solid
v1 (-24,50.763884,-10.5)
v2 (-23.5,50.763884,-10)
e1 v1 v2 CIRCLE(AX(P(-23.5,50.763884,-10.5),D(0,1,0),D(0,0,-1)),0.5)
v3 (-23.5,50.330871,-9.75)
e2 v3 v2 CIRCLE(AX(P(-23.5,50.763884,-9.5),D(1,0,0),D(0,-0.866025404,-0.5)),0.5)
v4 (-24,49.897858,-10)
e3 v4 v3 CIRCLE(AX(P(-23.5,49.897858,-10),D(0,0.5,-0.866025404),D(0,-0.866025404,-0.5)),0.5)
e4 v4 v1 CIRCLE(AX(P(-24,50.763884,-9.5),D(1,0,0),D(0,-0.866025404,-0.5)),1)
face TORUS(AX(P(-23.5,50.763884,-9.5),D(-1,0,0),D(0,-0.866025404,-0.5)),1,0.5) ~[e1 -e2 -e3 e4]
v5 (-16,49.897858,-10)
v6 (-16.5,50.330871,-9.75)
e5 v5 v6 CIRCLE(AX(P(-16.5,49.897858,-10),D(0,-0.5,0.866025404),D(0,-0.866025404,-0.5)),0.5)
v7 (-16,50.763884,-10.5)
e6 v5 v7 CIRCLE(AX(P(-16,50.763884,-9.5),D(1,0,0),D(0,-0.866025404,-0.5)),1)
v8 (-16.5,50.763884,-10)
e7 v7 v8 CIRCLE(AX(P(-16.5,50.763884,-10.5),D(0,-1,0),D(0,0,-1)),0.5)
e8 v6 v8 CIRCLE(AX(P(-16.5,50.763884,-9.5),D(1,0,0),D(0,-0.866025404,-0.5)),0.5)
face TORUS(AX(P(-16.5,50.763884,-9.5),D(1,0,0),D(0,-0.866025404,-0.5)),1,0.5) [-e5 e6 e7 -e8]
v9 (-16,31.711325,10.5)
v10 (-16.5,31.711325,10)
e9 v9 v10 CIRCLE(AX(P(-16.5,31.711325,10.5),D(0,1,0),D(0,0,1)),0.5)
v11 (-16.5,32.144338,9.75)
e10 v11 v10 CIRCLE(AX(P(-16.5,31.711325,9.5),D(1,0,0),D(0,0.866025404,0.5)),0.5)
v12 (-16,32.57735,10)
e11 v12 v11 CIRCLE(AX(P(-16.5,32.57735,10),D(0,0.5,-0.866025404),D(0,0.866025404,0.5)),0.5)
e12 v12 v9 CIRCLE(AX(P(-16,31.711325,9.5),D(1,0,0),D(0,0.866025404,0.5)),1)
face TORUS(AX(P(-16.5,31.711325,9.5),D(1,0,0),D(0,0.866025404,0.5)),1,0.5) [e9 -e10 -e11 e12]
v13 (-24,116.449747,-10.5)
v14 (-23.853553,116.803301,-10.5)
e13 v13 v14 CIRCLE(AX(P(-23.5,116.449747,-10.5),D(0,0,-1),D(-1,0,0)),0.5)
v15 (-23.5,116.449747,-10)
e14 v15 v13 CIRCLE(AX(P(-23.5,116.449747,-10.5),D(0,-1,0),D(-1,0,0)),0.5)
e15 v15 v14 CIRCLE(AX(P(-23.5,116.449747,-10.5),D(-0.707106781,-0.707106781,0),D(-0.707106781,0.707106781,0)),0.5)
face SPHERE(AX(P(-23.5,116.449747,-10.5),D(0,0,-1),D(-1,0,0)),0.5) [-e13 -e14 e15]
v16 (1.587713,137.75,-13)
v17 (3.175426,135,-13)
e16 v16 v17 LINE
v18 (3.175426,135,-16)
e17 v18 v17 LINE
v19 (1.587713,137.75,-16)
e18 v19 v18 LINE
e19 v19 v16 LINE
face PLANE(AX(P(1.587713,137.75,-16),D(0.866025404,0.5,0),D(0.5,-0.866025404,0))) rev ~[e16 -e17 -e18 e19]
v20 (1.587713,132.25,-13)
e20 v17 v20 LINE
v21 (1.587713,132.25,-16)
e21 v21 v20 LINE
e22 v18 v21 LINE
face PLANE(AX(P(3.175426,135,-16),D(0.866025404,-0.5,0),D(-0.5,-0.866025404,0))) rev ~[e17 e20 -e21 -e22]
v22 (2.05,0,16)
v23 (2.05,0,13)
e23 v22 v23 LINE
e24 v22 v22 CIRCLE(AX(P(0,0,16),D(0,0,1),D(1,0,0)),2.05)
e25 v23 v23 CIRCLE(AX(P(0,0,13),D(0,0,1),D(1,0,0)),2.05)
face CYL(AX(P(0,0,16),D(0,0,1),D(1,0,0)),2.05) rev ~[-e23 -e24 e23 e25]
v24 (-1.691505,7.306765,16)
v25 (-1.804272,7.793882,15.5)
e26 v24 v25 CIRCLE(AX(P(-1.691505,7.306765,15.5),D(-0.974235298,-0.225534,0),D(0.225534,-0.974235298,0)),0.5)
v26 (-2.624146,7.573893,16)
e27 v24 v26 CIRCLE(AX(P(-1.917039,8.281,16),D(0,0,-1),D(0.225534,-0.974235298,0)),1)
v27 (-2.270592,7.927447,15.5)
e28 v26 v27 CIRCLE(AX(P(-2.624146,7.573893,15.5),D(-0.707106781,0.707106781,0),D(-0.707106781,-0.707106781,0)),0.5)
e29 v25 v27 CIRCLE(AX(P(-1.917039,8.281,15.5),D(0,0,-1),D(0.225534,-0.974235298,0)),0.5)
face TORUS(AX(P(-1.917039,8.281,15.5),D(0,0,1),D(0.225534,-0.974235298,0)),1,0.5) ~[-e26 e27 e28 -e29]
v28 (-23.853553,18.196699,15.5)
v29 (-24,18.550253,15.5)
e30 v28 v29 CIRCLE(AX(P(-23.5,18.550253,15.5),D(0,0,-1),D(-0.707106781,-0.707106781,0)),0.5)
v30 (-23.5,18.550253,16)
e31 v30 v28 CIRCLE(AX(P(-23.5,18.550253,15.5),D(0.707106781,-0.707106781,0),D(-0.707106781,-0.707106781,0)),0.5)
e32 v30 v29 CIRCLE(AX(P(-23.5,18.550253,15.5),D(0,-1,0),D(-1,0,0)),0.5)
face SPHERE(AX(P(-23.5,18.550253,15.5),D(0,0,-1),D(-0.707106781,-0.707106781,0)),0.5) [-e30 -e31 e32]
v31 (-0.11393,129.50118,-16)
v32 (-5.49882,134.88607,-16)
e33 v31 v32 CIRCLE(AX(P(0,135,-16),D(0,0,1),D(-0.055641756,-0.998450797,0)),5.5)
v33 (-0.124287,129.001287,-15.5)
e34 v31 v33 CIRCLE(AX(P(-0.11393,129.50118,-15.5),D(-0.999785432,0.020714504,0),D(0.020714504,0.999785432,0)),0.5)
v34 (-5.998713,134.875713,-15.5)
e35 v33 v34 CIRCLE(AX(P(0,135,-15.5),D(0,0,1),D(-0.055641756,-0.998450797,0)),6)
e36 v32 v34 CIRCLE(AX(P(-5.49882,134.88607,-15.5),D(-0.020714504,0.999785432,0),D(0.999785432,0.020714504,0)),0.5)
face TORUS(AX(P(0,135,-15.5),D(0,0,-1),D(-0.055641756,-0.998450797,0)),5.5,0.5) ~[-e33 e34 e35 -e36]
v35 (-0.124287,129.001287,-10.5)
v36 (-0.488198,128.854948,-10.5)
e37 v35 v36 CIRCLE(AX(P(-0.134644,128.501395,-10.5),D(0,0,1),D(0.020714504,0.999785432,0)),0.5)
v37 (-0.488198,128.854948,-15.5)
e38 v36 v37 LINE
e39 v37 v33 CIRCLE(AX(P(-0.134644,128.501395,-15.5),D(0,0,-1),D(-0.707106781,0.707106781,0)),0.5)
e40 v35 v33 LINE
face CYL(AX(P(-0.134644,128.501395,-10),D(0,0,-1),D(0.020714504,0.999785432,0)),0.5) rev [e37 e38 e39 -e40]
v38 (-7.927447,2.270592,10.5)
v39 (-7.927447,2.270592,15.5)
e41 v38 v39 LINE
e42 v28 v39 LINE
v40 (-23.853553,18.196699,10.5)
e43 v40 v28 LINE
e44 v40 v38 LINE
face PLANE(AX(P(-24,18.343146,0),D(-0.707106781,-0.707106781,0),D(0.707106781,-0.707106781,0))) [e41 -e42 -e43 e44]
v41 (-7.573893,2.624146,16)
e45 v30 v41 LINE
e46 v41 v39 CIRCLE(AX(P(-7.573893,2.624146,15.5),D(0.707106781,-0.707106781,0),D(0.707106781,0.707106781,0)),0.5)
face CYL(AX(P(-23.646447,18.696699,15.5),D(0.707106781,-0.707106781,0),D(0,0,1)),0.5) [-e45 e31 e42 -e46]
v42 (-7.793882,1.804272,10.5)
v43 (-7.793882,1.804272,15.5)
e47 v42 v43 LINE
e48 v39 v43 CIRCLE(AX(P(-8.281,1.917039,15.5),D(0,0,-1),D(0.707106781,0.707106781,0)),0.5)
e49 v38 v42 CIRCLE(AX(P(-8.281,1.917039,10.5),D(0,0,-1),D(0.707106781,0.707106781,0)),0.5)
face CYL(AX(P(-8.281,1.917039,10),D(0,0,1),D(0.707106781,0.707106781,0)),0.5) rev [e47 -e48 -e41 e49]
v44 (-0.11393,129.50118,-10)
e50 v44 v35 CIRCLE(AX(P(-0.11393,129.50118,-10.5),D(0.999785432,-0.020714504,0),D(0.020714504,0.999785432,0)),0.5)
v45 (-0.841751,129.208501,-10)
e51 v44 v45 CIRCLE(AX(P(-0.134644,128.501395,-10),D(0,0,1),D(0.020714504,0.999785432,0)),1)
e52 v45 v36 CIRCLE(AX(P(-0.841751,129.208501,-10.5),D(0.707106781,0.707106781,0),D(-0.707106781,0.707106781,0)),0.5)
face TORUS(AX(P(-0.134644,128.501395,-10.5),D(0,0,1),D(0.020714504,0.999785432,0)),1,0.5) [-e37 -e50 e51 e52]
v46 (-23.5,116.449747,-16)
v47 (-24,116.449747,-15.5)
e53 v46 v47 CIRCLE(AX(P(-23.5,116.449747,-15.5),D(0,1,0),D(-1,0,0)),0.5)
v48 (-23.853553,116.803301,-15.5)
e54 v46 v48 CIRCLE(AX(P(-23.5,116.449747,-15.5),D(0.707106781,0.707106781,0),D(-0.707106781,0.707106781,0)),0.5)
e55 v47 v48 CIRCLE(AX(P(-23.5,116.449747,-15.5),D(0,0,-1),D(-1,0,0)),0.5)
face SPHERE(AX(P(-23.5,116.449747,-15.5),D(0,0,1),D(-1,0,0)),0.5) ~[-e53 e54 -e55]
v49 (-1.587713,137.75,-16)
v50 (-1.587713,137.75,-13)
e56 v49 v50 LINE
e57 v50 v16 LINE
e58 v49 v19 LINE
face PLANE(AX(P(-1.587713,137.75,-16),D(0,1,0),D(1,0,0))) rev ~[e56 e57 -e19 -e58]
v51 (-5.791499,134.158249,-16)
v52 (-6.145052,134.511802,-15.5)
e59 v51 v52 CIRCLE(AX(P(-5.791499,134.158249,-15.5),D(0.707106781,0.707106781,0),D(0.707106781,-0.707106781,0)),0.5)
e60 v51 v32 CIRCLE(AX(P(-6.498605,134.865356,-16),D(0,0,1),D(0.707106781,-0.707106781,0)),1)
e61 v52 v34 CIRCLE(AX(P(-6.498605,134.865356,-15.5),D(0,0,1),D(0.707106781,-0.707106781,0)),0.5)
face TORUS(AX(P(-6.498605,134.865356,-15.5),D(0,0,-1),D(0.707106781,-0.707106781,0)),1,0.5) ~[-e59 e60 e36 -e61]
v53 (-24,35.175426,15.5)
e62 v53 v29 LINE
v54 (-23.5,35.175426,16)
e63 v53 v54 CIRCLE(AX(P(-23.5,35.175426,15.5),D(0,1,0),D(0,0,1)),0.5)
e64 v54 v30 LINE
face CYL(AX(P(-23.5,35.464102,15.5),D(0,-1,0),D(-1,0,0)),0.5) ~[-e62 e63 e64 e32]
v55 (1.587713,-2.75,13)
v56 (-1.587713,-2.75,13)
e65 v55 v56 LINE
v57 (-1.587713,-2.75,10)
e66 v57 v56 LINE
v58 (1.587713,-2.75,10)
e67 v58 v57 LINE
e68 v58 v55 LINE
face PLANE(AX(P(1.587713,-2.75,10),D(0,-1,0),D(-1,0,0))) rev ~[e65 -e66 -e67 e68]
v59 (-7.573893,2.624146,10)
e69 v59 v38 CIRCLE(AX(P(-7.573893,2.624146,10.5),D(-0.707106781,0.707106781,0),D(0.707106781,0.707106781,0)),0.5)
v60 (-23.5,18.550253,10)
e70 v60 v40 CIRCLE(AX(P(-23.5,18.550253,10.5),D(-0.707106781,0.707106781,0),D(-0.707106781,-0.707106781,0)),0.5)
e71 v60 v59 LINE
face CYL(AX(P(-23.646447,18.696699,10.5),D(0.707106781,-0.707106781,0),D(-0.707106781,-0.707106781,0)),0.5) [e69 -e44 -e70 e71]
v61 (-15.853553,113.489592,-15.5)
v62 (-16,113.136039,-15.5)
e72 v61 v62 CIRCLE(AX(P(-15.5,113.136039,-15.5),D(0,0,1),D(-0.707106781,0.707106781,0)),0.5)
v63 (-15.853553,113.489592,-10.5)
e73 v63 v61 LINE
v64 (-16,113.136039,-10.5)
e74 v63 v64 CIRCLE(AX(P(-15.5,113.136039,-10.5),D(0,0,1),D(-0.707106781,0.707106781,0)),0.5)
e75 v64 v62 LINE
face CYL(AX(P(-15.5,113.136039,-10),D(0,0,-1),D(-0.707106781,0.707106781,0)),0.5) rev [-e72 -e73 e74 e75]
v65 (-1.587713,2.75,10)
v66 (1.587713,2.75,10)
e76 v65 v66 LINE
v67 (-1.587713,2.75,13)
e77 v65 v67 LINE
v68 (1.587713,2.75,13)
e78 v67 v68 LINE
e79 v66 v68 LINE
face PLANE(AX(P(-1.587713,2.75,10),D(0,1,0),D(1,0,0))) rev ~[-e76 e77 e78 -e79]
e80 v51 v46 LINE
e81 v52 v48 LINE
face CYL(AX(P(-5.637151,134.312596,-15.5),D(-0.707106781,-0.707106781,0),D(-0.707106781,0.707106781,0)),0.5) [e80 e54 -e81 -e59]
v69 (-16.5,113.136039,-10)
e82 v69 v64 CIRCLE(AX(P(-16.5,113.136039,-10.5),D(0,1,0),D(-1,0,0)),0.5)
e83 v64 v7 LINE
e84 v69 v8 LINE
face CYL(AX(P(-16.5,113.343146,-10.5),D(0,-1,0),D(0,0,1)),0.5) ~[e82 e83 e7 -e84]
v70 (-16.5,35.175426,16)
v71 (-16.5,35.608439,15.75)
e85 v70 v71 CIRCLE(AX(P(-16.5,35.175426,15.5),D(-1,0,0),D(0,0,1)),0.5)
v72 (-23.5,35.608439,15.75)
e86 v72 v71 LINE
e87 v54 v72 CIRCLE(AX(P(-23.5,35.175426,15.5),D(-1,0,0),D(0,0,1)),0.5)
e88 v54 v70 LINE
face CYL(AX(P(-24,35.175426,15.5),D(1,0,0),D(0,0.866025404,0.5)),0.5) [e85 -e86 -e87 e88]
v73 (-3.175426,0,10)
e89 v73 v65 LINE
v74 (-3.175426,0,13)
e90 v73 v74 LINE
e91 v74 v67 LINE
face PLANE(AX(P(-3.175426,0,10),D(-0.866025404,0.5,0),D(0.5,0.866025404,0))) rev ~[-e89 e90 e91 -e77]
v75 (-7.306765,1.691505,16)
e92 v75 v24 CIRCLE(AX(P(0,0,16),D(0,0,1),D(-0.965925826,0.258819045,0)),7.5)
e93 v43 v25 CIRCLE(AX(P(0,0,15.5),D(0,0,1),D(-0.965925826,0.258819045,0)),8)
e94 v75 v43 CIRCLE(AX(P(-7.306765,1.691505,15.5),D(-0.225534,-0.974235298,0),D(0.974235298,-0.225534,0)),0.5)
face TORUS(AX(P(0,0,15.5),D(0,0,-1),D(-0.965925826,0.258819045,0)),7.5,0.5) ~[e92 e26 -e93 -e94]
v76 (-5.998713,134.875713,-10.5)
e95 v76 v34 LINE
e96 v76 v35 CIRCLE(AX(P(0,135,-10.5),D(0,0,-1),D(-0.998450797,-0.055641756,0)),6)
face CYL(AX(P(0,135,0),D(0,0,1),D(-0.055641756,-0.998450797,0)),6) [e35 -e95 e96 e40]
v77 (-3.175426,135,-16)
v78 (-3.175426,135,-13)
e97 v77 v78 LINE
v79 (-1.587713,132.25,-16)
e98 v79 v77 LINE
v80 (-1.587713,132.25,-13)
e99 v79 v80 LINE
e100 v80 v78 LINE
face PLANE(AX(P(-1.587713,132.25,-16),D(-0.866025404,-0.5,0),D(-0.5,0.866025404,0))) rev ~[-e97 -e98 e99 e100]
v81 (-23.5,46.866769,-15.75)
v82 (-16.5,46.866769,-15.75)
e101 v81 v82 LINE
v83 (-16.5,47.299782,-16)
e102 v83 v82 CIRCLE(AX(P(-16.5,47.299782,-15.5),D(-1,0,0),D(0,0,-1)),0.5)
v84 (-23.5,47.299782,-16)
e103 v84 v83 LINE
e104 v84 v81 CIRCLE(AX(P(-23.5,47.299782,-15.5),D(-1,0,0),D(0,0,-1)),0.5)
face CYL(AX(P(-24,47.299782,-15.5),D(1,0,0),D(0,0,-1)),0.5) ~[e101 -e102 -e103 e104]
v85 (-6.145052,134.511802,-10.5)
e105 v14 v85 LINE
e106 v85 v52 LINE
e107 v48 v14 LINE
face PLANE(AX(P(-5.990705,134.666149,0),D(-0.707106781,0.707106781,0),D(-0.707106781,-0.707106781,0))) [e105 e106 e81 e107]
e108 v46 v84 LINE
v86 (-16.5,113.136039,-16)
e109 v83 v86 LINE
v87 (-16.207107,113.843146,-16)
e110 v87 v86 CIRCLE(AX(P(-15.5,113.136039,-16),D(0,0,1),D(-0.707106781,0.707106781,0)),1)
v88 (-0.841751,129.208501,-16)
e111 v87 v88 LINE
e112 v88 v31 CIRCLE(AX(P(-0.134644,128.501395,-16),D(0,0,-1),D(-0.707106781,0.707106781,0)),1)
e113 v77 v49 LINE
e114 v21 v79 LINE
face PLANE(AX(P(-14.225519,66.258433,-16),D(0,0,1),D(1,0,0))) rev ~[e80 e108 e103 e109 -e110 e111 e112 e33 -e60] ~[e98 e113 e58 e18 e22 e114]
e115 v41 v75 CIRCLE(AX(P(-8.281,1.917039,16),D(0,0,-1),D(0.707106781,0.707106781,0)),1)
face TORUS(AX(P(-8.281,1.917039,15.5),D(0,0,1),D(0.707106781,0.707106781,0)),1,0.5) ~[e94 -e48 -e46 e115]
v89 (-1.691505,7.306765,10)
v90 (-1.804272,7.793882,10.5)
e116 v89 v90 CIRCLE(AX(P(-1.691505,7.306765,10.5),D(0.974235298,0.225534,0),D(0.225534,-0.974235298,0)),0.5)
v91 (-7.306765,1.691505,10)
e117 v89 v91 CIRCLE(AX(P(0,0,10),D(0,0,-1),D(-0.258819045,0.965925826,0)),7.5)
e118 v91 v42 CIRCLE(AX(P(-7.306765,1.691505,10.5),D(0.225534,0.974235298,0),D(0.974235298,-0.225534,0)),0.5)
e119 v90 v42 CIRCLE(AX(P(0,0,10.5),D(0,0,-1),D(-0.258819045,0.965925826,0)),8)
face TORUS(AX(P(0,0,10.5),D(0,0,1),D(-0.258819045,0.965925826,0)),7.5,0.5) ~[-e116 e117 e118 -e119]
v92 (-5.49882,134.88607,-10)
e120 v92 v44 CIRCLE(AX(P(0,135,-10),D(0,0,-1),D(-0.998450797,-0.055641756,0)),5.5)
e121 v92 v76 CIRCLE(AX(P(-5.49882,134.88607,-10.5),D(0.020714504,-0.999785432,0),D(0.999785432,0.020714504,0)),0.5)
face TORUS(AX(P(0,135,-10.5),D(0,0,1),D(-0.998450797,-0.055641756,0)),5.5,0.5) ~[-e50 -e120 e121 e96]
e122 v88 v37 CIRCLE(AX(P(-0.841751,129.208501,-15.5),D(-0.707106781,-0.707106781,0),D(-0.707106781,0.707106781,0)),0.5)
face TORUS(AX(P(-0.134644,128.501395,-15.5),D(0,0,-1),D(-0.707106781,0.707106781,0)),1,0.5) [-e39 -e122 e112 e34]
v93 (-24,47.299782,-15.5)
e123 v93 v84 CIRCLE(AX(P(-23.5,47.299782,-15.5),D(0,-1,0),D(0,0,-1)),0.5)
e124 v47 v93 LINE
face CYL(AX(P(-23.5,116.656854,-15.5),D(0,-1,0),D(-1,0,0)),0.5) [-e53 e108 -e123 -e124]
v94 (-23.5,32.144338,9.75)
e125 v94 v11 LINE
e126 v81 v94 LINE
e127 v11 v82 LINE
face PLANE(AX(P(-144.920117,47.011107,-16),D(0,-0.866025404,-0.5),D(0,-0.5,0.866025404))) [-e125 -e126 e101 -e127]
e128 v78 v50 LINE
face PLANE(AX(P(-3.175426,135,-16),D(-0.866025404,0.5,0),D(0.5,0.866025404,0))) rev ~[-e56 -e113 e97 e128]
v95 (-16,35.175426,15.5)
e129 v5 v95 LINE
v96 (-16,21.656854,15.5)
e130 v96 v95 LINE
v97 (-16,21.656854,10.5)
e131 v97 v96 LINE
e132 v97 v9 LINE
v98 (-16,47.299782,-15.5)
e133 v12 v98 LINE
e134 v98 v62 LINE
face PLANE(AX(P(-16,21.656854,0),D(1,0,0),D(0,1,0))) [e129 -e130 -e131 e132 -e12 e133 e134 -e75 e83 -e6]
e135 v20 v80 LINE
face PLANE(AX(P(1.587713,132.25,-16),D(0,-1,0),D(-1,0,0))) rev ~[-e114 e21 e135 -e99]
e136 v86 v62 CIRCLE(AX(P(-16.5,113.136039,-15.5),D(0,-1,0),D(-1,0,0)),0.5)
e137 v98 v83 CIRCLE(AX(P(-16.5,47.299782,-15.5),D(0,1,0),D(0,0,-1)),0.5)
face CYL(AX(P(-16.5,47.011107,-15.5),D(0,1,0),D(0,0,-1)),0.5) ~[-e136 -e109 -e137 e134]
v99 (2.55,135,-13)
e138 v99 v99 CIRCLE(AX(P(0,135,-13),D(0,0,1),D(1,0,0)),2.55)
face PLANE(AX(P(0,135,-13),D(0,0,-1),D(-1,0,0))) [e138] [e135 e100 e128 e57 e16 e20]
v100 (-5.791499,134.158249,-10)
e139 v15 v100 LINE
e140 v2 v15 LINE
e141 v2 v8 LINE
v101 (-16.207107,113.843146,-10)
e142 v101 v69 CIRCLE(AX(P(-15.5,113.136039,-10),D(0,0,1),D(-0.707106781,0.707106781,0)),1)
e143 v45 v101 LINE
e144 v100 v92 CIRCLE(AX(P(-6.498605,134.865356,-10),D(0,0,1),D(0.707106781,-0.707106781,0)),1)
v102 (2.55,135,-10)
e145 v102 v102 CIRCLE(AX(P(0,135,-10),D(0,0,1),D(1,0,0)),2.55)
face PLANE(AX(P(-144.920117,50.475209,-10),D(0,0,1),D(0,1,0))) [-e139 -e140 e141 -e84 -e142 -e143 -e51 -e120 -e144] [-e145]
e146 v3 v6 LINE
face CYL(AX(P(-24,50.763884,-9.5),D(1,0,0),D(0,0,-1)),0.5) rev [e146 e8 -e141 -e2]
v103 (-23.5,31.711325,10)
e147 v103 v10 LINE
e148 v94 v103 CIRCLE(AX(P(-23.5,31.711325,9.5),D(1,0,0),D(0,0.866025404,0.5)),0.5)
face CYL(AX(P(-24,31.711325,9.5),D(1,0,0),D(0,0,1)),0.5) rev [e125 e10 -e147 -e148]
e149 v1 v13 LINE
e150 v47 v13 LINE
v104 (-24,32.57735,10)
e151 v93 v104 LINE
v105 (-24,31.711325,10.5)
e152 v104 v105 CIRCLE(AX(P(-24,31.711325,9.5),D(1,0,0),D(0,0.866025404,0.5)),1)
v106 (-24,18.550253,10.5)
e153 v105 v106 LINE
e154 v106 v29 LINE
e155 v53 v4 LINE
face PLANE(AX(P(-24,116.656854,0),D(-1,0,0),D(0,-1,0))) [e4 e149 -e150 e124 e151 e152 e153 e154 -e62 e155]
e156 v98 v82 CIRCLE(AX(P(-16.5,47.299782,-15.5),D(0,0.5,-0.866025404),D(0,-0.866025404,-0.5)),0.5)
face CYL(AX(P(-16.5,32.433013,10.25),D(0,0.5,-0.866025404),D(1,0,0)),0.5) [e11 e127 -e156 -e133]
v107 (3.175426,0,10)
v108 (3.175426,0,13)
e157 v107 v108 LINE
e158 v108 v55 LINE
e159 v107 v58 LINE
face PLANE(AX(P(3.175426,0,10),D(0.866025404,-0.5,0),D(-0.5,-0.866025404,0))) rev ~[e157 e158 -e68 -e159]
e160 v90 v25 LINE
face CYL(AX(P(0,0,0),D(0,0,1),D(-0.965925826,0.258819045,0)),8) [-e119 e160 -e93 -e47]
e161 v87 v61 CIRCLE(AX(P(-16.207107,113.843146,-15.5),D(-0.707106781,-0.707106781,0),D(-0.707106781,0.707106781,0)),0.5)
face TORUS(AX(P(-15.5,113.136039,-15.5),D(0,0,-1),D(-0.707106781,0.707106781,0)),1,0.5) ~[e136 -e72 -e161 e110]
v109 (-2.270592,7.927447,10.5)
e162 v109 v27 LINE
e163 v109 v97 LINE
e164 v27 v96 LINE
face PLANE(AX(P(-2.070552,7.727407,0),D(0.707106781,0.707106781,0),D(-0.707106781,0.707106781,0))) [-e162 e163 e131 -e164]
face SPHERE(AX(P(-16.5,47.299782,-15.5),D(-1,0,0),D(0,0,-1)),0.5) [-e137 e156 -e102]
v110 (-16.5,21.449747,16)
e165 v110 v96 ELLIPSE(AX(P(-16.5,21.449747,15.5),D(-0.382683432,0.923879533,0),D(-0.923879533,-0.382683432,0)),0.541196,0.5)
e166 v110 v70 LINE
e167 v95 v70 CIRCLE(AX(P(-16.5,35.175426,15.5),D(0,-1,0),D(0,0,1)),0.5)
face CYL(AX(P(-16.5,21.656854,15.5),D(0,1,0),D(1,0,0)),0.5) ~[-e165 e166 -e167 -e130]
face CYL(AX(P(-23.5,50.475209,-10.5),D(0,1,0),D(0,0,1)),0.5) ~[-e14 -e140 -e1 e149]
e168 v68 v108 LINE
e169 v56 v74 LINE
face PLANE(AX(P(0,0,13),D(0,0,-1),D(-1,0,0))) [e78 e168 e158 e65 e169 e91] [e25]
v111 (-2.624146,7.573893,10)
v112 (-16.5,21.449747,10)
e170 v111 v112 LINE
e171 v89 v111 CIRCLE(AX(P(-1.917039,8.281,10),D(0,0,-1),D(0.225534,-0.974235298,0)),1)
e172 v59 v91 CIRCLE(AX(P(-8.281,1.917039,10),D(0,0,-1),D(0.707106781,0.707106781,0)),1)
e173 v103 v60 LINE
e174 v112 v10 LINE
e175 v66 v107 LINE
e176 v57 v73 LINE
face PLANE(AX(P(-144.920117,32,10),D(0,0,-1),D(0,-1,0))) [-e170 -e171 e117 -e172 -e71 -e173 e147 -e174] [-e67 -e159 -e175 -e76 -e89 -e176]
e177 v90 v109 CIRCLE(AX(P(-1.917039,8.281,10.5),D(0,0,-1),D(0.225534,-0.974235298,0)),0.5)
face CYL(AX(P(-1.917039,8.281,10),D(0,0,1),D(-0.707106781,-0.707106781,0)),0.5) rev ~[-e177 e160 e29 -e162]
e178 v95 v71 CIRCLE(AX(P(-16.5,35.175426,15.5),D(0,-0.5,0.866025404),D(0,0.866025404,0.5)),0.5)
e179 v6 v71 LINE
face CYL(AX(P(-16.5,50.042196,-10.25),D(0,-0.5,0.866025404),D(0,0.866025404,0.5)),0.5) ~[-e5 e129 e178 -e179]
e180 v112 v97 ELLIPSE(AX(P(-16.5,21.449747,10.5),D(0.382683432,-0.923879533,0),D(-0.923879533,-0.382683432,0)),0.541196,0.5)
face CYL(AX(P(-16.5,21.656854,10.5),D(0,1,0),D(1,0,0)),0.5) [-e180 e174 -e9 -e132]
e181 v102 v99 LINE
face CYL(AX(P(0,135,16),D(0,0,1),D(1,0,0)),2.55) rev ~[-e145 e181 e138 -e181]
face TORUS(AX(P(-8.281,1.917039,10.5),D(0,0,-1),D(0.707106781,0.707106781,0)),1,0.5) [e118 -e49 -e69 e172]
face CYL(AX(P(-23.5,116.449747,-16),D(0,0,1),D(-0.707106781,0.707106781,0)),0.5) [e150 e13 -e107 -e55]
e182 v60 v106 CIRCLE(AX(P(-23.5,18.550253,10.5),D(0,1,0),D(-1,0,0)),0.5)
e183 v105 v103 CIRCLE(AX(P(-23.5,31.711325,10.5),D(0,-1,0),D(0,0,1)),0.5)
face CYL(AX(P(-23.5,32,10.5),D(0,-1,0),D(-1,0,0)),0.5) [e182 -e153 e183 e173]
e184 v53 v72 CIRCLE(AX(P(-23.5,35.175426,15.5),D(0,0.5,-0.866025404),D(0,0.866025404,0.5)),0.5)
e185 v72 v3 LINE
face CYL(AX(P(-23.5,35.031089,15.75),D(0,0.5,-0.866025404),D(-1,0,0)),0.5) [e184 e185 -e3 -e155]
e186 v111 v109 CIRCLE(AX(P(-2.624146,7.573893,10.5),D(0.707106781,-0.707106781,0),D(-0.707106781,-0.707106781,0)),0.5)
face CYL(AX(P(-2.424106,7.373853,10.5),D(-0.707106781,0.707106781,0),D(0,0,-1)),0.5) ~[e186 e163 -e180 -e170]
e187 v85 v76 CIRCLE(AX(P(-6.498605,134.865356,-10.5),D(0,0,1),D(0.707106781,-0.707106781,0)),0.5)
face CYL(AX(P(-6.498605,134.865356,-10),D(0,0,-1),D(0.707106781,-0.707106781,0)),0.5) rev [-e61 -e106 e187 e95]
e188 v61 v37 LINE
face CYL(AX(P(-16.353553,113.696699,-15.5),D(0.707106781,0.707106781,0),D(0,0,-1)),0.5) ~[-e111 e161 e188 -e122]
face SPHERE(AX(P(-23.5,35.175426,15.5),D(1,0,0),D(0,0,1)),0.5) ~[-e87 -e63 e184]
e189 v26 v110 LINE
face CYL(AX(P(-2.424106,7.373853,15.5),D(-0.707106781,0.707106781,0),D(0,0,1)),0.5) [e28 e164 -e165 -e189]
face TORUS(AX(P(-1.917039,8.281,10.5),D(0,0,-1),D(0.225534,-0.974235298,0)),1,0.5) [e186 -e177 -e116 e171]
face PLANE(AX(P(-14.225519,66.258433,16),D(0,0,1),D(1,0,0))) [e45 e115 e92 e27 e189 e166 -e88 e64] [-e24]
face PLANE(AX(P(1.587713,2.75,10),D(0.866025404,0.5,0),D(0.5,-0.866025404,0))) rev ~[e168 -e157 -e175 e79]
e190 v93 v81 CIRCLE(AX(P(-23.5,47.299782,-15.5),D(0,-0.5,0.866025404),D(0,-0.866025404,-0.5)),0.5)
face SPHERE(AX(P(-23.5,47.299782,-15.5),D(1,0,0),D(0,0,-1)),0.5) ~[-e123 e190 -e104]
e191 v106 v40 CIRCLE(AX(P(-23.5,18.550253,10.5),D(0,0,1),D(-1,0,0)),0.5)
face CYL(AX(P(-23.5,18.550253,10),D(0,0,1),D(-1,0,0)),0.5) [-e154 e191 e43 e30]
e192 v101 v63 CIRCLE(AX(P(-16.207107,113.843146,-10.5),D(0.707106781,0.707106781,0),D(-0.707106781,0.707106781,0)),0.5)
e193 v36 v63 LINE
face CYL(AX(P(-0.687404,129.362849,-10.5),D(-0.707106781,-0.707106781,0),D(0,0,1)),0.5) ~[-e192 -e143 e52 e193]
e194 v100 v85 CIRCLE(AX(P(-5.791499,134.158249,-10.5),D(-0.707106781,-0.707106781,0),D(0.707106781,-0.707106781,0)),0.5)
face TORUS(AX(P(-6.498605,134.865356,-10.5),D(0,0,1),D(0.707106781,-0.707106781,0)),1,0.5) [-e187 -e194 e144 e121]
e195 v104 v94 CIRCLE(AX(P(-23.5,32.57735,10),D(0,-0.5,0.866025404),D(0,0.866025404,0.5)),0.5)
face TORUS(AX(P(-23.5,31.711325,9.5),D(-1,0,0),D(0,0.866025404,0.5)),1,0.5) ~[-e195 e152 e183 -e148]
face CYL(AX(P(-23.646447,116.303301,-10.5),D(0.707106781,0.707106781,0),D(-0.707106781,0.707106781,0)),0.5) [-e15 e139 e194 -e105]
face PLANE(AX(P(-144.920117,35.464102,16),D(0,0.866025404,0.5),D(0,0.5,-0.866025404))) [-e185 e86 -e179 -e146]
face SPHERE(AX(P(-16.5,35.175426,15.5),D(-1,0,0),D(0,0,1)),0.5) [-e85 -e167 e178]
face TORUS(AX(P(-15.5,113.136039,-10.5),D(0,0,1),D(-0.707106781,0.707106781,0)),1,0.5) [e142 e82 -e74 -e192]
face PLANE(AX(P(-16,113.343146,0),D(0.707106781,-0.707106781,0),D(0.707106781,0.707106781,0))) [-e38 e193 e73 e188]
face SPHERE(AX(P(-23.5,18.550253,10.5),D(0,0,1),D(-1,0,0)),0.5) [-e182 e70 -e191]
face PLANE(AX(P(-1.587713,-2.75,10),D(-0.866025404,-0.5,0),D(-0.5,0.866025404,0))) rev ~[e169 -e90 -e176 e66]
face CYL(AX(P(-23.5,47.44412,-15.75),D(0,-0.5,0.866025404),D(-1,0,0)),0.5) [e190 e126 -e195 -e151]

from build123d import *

# Parameters (mm, degrees)
EXTRUDE_1_DEPTH          = 16
SKETCH_2_R               = 2.05
SKETCH_2_R_2             = 2.55
CUT_EXTRUDE_1_DEPTH      = 147.563979204
CUT_EXTRUDE_2_DEPTH      = 144.920116731
CUT_EXTRUDE_2_DEPTH_BACK = 144.920116731
CUT_EXTRUDE_3_DEPTH      = 3
CUT_EXTRUDE_5_DEPTH      = 3
FILLET_1_R               = 0.5


with BuildPart() as part:
    # 草图1 → 凸台-拉伸1 (new, symmetric)
    with BuildSketch(Plane.XY):
        with BuildLine():
            Line((-5.990704785, 134.666149465), (-24, 116.656854249))
            Line((-24, 116.656854249), (-24, 18.343145751))
            Line((-24, 18.343145751), (-7.72740661, 2.070552361))
            ThreePointArc((-7.72740661, 2.070552361), (5.656854249, -5.656854249), (-2.070552361, 7.72740661))
            Line((-2.070552361, 7.72740661), (-16, 21.656854249))
            Line((-16, 21.656854249), (-16, 113.343145751))
            Line((-16, 113.343145751), (-0.333850535, 129.009295215))
            ThreePointArc((-0.333850535, 129.009295215), (4.242640687, 139.242640687), (-5.990704785, 134.666149465))
        make_face()
    extrude(amount=EXTRUDE_1_DEPTH, both=True)

    # 草图2 → 切除-拉伸1 (cut, through all)
    with BuildSketch(Plane.XY.offset(16)):
        Circle(SKETCH_2_R)
        with Locations((0, 135)):
            Circle(SKETCH_2_R_2)
    extrude(amount=-CUT_EXTRUDE_1_DEPTH, mode=Mode.SUBTRACT)

    # 草图4 → 切除-拉伸2 (cut, two sides: drawn at the far end of the back side and taken through both)
    with BuildSketch(Plane(origin=(0, 0, 0), x_dir=(0, 0, -1), z_dir=(1, 0, 0)).offset(-CUT_EXTRUDE_2_DEPTH_BACK)):
        Polygon((16, 47.011106999), (-10, 32), (-10, -8), (16, -8), align=None)
        Polygon((-16, 35.464101615), (10, 50.475208614), (10, 141), (-16, 141), align=None)
    extrude(amount=CUT_EXTRUDE_2_DEPTH + CUT_EXTRUDE_2_DEPTH_BACK, mode=Mode.SUBTRACT)

    # 草图5 → 切除-拉伸3 (cut)
    with BuildSketch(Plane(origin=(0, 0, 10), x_dir=(-1, 0, 0), z_dir=(0, 0, -1))):
        Polygon((1.58771324, -2.75), (3.175426481, 0), (1.58771324, 2.75), (-1.58771324, 2.75), (-3.175426481, 0), (-1.58771324, -2.75), align=None)
    extrude(amount=-CUT_EXTRUDE_3_DEPTH, mode=Mode.SUBTRACT)

    # 草图7 → 切除-拉伸5 (cut)
    with BuildSketch(Plane(origin=(0, 0, -16), x_dir=(-1, 0, 0), z_dir=(0, 0, -1))):
        Polygon((3.175426481, 135), (1.58771324, 137.75), (-1.58771324, 137.75), (-3.175426481, 135), (-1.58771324, 132.25), (1.58771324, 132.25), align=None)
    extrude(amount=-CUT_EXTRUDE_5_DEPTH, mode=Mode.SUBTRACT)

    # 圆角1
    fillet_1_edges = [part.edges().sort_by_distance(p)[0] for p in [
        (-24, 81.833980624, -16),
        (-14.995352392, 125.661501857, -16),
        (4.242640687, 139.242640687, -16),
        (-2.070552361, 7.72740661, 13),
        (-7.72740661, 2.070552361, 13),
        (-24, 18.343145751, 13),
        (-15.863703305, 10.206849056, 16),
        (5.656854249, -5.656854249, 16),
        (-9.03527618, 14.69213043, 16),
        (-16, 28.560477932, 16),
        (-16, 80.177126375, -16),
        (-24, 26.903623683, 16),
        (-0.333850535, 129.009295215, -13),
        (-16, 113.343145751, -13),
        (-24, 116.656854249, -13),
        (-5.990704785, 134.666149465, -13),
        (-20, 50.475208614, -10),
        (-16, 42.969655115, 3),
        (-24, 42.969655115, 3),
        (-20, 35.464101615, 16),
        (-24, 83.566031432, -10),
        (-14.995352392, 125.661501857, -10),
        (4.242640687, 139.242640687, -10),
        (-8.166925268, 121.176220483, -10),
        (-16, 81.909177182, -10),
        (-20, 32, 10),
        (-16, 39.505553499, -3),
        (-24, 39.505553499, -3),
        (-20, 47.011106999, -16),
        (-24, 25.171572875, 10),
        (-15.863703305, 10.206849056, 10),
        (5.656854249, -5.656854249, 10),
        (-9.03527618, 14.69213043, 10),
        (-16, 26.828427125, 10),
        (-8.166925268, 121.176220483, -16),
    ]]
    fillet(fillet_1_edges, radius=FILLET_1_R)


solid = part.part
